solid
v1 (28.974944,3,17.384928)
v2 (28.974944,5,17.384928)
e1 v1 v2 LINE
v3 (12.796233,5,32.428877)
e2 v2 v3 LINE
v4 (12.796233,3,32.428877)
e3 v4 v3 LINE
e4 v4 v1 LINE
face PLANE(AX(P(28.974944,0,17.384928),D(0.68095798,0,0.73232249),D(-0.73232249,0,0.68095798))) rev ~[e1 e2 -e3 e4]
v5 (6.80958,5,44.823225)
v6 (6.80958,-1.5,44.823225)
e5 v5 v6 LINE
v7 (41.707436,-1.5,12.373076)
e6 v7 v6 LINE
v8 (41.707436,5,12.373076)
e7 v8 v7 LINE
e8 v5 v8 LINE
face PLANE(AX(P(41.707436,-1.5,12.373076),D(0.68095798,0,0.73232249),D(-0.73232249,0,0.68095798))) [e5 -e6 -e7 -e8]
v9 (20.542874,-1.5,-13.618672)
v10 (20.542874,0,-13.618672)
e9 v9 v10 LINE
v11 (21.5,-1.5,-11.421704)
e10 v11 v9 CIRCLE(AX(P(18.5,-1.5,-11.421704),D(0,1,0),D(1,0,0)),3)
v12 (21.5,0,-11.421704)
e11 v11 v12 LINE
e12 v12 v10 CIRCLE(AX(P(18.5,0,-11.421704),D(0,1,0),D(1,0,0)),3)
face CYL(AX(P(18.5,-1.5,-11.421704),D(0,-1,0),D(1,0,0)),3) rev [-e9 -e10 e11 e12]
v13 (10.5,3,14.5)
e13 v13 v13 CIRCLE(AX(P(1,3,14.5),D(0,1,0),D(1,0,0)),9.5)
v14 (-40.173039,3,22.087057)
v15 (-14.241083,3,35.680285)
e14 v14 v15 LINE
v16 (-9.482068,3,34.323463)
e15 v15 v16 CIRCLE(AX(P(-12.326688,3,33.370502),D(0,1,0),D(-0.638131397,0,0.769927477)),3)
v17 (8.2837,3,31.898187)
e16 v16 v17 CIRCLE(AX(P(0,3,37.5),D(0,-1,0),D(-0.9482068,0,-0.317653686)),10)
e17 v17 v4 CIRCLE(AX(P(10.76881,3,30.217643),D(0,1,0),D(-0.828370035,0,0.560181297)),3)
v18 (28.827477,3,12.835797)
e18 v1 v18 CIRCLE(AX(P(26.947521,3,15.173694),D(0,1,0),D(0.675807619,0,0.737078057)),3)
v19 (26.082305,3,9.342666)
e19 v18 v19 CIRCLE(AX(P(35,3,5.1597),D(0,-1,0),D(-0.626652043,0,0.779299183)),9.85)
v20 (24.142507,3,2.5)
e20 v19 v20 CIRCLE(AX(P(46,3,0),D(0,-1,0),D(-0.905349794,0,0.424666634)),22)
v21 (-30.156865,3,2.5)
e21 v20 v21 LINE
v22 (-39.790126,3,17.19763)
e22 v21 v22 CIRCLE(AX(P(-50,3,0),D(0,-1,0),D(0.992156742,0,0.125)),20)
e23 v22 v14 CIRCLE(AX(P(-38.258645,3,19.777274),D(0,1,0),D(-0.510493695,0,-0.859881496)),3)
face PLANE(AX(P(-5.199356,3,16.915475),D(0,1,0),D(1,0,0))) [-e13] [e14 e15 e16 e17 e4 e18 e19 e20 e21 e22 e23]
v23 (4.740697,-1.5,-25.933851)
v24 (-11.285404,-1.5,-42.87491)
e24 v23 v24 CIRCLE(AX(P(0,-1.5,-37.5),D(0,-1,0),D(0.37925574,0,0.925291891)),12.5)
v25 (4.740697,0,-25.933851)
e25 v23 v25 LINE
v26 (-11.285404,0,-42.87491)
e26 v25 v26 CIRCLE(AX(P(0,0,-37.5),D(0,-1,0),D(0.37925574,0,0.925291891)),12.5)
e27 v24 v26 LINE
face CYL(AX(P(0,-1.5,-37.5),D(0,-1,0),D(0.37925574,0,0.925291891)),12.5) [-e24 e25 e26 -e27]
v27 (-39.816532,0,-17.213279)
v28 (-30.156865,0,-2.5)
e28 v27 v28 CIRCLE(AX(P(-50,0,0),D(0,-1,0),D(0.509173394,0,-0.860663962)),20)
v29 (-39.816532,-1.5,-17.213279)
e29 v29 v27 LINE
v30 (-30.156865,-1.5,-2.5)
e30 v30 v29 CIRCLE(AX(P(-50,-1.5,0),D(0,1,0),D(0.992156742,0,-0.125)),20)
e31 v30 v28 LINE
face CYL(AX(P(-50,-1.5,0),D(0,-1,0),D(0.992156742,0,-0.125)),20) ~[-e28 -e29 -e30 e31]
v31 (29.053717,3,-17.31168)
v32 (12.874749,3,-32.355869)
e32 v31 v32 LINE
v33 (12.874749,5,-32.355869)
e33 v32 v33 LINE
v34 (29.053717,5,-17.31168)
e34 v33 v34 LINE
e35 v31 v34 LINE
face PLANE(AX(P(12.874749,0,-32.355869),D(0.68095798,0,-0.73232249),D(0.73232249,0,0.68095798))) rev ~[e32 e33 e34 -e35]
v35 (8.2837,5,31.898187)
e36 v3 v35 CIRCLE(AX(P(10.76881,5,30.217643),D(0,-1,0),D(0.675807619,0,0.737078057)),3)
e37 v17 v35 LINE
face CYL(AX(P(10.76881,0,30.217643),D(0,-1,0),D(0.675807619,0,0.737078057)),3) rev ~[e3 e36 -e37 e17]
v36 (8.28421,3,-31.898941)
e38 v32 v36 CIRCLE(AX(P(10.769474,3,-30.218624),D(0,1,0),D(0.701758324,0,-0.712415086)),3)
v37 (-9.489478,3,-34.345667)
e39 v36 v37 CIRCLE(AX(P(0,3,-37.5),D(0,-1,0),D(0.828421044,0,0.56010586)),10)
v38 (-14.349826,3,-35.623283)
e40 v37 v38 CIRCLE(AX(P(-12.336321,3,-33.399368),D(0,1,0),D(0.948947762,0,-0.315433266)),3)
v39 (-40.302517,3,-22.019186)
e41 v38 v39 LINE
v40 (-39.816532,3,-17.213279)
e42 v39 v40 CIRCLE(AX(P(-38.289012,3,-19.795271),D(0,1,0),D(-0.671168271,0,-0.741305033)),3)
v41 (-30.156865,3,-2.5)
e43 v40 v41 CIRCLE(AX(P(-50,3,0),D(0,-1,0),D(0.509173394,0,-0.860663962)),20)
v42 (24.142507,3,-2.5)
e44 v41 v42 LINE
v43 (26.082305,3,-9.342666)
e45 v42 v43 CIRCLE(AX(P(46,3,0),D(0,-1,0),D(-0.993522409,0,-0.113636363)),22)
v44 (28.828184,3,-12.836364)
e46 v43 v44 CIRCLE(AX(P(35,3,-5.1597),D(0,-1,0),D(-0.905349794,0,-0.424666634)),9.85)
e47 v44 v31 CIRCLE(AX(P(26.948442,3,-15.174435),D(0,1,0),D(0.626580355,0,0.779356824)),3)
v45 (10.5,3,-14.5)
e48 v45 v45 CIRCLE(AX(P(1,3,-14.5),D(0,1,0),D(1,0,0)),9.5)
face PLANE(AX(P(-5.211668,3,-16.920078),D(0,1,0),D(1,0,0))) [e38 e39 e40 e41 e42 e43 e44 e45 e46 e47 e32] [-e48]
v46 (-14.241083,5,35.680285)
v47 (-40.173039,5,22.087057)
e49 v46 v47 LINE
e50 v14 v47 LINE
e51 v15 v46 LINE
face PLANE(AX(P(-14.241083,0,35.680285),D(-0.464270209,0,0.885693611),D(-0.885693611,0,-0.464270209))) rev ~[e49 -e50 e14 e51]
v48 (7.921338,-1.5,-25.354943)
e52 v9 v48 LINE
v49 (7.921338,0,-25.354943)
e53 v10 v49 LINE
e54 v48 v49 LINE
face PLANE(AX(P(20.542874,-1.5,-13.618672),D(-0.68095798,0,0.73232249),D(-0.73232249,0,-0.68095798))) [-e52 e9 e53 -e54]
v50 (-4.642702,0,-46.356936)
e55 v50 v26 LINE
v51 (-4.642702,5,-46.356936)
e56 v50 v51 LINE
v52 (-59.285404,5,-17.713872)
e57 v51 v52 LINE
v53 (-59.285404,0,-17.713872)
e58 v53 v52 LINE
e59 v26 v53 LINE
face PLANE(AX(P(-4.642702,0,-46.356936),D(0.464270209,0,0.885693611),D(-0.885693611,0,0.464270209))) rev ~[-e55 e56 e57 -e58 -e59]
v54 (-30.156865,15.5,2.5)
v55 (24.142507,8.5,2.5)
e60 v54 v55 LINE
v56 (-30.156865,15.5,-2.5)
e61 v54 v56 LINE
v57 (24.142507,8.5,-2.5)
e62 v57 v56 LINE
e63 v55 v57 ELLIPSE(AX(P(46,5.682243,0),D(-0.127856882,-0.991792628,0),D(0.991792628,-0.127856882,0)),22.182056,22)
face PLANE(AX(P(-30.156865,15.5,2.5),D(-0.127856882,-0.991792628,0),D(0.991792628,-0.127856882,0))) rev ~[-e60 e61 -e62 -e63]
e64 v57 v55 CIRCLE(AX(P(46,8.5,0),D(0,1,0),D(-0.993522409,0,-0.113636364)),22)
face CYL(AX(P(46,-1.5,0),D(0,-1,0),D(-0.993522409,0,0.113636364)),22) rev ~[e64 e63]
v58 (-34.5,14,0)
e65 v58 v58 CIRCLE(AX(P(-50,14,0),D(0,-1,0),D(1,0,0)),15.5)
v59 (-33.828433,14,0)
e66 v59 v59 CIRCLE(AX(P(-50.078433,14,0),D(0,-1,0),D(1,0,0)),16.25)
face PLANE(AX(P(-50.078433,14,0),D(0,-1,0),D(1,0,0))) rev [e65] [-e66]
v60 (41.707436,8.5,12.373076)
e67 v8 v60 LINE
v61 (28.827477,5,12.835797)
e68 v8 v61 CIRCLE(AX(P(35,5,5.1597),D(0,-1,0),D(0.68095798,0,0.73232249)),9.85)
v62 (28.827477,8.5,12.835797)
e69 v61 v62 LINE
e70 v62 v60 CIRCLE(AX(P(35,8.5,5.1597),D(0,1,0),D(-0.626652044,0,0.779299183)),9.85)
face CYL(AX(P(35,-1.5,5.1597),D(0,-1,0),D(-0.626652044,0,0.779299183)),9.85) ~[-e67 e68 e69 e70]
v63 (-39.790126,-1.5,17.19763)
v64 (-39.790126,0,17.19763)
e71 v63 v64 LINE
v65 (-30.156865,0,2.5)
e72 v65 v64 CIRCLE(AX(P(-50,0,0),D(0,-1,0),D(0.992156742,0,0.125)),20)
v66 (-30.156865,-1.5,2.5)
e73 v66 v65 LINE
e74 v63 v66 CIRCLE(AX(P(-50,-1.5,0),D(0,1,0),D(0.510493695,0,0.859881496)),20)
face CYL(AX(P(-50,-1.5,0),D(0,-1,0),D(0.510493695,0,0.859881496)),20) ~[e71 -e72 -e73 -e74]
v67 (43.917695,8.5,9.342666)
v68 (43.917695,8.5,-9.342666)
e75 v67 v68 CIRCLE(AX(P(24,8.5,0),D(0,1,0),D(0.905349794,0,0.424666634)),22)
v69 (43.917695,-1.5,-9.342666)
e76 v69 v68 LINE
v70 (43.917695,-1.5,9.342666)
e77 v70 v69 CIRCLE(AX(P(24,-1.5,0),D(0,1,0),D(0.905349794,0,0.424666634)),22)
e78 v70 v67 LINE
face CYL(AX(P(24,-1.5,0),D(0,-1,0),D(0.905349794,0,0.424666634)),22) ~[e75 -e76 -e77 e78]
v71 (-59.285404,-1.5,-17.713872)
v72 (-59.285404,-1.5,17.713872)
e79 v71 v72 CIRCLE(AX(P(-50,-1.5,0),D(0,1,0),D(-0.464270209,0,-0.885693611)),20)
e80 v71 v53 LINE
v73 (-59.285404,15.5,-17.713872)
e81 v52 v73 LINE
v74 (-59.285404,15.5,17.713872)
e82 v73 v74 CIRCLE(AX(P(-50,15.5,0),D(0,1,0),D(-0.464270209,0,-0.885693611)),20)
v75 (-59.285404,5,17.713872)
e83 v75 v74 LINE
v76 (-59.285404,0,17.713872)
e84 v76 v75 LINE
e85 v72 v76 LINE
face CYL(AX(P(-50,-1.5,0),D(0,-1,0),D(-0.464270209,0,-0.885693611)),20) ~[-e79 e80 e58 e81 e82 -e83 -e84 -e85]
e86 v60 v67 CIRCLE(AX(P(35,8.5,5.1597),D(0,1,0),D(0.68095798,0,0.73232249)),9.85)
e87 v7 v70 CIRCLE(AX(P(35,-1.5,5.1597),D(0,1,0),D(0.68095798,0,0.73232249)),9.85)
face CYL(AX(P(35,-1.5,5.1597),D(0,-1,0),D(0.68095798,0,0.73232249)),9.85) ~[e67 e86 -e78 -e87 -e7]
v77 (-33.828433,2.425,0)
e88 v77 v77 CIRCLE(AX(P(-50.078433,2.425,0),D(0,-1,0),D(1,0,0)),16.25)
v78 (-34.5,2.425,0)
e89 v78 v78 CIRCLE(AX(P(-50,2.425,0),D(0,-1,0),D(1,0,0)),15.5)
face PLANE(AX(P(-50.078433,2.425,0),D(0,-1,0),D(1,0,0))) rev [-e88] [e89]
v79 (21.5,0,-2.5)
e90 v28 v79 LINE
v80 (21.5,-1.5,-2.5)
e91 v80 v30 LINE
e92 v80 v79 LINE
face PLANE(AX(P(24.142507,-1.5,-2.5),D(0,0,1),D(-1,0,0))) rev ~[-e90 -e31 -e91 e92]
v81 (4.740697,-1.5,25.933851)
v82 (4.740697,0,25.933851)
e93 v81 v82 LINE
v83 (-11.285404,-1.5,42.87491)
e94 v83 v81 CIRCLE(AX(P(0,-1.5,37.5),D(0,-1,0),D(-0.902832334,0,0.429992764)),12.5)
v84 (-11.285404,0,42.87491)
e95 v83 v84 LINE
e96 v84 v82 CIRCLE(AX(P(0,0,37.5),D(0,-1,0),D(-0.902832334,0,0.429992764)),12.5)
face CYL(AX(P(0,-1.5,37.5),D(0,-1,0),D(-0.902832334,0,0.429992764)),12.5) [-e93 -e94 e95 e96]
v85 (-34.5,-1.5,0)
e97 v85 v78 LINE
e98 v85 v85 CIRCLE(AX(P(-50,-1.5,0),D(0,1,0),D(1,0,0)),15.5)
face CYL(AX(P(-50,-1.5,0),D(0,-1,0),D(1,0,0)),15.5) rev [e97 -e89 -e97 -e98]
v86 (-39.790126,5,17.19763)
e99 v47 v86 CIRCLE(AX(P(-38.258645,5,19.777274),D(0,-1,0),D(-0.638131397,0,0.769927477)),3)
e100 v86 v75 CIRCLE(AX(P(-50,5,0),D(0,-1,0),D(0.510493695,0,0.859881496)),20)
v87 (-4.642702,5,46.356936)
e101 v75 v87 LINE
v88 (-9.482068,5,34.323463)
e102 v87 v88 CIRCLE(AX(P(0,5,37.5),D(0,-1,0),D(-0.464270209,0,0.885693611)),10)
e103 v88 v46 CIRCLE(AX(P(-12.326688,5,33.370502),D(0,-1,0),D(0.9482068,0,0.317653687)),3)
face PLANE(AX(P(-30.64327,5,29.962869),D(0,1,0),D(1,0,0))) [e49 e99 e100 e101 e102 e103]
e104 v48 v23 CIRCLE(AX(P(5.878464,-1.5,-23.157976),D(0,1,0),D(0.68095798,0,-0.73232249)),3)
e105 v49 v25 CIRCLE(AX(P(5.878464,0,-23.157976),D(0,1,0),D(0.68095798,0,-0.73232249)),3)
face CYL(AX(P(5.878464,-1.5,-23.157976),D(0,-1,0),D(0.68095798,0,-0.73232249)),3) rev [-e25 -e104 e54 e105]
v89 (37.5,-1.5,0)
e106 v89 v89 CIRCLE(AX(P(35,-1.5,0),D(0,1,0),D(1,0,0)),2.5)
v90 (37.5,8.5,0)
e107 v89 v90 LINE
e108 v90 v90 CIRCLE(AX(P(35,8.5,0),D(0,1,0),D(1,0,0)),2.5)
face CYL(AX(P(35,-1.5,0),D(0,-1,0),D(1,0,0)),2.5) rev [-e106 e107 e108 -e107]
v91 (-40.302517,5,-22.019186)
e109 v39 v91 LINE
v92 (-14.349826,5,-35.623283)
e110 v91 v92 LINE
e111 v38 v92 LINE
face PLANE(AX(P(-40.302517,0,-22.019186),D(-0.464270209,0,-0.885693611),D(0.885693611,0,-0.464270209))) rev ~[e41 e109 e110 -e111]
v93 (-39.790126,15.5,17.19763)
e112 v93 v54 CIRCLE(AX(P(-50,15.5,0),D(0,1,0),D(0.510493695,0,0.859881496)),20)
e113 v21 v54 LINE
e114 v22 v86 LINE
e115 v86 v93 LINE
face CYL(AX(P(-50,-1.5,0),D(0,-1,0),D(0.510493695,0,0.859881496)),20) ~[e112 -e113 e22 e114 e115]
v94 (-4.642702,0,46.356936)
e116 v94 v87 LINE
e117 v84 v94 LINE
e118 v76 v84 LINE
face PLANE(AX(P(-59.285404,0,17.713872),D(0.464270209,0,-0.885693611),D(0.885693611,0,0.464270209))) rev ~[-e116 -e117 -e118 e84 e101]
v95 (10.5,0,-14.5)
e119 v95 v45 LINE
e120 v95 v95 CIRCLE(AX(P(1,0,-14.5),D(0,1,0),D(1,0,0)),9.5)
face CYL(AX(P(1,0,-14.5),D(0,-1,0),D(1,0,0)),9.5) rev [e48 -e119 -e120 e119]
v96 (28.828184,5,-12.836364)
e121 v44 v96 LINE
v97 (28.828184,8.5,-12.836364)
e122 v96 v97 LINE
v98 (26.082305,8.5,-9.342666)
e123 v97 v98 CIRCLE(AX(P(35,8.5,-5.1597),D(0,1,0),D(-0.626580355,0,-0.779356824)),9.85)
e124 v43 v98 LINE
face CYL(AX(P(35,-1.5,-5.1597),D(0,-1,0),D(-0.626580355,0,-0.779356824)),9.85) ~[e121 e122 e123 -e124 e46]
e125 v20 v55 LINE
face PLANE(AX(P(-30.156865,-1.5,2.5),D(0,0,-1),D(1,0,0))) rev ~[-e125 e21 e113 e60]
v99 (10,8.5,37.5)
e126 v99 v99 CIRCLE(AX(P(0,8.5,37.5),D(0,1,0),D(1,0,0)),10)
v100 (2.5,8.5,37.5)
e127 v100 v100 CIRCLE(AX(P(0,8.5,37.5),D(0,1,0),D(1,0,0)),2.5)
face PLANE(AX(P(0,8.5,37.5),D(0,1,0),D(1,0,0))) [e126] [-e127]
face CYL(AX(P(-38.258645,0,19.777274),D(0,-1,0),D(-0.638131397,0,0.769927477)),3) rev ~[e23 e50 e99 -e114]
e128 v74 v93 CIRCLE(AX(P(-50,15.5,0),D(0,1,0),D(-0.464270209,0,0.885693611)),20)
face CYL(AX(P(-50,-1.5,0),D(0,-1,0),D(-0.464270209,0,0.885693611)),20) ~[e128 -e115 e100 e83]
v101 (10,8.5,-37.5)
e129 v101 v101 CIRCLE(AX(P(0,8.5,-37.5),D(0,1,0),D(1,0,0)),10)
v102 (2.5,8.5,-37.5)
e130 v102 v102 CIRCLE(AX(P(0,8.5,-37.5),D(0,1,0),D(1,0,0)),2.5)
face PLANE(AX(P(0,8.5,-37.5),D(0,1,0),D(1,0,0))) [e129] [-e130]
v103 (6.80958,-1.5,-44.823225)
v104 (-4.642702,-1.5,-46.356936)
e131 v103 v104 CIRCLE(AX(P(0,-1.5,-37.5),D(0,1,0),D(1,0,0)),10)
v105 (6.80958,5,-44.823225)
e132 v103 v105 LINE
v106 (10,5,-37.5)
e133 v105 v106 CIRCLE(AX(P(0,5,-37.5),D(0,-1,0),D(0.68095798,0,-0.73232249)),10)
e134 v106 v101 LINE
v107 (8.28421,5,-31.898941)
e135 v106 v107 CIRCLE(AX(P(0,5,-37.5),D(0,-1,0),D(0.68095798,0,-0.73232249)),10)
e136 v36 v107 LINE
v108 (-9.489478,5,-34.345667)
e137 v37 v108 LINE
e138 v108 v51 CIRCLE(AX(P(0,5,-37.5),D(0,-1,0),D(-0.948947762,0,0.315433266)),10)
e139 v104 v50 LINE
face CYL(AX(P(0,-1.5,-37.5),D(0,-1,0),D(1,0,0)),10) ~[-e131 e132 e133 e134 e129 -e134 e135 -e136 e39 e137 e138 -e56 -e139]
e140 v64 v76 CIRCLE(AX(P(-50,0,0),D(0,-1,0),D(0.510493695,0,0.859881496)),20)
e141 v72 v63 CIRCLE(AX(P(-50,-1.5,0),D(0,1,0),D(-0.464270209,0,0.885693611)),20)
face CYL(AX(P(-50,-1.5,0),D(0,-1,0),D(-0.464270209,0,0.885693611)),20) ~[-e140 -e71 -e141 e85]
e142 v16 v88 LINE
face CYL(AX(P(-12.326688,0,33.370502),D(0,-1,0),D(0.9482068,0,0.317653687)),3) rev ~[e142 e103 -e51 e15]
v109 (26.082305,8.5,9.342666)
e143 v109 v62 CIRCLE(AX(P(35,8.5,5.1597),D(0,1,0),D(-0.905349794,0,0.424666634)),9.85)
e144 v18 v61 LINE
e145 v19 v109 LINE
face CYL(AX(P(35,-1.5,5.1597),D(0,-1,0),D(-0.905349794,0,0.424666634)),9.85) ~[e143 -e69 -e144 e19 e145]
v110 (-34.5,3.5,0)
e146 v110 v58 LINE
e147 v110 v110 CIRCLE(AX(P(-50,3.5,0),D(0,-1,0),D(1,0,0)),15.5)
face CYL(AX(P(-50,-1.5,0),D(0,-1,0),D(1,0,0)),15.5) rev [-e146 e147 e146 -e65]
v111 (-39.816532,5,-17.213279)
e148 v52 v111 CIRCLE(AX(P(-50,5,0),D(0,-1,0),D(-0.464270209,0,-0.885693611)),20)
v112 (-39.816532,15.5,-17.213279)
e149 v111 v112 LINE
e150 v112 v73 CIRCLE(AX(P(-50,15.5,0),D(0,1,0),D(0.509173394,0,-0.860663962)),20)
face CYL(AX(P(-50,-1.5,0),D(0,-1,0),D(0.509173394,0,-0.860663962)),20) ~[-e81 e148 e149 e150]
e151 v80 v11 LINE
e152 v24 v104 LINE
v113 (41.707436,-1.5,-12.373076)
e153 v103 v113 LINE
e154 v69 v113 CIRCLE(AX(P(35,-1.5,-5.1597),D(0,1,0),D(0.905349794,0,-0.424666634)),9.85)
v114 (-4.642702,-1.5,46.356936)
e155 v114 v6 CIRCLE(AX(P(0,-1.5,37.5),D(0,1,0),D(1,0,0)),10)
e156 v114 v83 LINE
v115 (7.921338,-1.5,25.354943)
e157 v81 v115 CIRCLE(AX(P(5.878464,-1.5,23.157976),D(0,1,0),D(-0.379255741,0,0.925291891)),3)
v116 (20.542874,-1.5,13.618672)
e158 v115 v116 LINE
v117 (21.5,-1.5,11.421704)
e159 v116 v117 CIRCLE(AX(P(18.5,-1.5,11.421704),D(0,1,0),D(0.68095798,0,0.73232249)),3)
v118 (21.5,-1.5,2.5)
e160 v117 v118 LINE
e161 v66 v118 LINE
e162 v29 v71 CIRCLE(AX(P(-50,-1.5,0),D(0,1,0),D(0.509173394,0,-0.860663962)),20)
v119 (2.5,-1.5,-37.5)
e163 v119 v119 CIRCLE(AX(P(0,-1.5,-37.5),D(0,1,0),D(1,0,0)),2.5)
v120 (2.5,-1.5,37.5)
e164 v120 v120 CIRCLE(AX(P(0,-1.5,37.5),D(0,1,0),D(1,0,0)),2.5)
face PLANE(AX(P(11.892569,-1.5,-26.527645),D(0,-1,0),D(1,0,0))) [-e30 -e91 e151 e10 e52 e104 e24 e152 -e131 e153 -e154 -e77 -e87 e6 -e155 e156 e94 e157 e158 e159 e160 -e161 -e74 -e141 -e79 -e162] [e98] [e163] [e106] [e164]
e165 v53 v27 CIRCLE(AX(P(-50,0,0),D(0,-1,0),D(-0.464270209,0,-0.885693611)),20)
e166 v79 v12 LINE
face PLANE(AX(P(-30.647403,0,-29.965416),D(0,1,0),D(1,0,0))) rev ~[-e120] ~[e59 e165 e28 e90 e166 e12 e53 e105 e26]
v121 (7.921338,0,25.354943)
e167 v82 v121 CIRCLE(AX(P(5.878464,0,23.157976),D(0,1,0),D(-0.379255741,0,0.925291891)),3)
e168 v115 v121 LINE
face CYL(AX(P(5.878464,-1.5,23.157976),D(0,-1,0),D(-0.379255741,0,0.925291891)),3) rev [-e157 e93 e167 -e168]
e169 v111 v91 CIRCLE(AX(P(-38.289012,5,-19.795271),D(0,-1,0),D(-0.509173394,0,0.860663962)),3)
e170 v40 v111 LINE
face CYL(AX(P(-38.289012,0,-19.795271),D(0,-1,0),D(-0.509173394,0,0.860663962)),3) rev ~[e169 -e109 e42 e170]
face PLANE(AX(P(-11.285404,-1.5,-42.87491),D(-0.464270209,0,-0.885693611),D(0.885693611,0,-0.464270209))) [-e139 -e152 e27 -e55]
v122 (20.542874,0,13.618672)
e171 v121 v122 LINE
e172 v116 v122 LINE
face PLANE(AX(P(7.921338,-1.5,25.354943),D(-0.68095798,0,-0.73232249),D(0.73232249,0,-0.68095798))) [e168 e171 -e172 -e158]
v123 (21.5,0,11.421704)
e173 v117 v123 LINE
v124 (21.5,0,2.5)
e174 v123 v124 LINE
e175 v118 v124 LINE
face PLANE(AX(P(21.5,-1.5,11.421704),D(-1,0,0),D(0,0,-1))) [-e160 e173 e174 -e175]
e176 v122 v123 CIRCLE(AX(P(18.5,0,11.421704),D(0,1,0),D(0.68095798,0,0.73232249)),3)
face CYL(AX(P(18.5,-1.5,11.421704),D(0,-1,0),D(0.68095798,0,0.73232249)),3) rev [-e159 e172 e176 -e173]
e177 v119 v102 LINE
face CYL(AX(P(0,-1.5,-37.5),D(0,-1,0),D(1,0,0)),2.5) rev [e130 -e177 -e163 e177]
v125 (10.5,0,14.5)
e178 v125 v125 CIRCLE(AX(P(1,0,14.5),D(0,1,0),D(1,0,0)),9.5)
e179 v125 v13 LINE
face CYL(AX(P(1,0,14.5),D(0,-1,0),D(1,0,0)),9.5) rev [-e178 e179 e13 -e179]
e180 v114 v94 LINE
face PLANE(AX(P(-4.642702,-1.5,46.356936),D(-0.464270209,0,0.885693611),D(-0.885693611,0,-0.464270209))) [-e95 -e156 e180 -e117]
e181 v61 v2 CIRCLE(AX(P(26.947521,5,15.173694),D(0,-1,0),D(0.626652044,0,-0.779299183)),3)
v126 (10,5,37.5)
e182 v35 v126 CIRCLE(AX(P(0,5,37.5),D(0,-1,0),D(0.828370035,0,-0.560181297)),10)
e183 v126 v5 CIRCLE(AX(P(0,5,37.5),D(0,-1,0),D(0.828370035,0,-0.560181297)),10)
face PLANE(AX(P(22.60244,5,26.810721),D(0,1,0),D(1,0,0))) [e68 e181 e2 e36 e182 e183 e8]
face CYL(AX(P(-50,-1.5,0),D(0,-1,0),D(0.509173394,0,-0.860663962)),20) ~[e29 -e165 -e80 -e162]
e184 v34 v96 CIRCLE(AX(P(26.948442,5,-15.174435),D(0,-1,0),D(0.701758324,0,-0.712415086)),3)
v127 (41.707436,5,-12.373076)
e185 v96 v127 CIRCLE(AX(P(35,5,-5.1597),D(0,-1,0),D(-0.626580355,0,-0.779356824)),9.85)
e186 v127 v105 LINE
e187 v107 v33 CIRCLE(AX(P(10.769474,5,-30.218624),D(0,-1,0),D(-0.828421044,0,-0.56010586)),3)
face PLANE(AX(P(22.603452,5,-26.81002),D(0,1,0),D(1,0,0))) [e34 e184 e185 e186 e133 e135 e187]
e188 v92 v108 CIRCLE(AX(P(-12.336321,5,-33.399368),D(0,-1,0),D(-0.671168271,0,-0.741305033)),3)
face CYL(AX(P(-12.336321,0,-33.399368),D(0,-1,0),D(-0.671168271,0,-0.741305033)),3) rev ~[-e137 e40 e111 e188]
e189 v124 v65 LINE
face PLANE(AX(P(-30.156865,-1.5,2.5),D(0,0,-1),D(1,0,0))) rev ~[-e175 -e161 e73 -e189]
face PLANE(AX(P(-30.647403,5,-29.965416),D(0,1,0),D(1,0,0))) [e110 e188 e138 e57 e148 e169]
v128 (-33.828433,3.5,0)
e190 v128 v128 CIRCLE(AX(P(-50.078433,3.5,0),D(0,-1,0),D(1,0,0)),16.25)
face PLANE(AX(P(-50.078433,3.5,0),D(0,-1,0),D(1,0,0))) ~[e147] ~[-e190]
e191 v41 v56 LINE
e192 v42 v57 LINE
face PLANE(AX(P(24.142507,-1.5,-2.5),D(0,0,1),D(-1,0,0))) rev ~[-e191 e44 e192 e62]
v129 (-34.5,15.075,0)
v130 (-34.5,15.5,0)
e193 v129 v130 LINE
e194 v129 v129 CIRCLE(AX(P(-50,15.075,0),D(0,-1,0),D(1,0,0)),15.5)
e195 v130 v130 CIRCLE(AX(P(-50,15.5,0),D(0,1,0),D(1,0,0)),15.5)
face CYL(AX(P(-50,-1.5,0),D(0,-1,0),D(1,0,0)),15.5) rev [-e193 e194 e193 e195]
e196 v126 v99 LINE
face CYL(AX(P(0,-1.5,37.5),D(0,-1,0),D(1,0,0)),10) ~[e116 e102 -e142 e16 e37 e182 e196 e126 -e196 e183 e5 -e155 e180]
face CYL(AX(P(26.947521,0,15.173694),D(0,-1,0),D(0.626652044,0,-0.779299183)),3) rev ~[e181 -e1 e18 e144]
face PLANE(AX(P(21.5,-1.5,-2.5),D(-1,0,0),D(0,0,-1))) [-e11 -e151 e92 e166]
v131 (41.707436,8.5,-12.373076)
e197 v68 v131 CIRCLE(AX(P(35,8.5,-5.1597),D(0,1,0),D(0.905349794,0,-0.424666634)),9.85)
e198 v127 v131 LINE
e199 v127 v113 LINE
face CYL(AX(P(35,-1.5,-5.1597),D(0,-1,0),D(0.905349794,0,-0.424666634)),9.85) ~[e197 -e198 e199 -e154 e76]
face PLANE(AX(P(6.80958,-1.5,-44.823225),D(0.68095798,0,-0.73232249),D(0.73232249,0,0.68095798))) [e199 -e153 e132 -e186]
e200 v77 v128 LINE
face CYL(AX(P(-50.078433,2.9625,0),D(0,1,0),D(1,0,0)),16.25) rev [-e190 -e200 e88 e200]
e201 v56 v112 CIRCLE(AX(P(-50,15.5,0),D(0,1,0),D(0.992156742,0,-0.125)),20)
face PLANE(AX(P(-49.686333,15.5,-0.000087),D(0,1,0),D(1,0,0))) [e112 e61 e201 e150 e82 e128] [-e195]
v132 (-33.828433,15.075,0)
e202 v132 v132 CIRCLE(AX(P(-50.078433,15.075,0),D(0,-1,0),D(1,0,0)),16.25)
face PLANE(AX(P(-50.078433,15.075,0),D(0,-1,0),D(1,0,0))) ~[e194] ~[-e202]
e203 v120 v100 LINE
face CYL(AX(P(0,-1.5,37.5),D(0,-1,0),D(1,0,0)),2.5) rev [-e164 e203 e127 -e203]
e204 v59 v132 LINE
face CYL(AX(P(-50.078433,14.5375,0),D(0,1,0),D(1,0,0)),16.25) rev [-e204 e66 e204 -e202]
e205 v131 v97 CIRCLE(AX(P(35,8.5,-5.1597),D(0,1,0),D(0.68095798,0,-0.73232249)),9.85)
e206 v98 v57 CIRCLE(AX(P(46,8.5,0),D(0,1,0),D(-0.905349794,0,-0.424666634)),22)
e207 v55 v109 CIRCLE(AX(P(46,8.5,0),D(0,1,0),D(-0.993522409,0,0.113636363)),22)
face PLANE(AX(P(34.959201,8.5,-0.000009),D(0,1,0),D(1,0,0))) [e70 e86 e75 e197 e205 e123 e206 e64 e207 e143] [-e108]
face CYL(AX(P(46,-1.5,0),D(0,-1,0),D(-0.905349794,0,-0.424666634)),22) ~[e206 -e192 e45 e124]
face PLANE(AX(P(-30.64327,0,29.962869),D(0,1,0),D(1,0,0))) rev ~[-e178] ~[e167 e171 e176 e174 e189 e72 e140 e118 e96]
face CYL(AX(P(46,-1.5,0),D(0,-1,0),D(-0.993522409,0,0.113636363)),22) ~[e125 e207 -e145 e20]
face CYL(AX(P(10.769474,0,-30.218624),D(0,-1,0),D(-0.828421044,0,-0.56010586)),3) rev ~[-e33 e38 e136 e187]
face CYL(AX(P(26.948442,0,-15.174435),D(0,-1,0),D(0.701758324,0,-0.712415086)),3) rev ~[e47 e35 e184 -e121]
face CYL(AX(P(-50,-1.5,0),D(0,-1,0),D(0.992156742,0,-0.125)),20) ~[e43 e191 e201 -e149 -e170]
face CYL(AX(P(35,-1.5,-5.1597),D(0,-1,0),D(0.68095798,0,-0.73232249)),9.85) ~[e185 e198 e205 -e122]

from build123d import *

# Parameters (mm, degrees)
SKETCH1_R                = 9.5
BOSS_EXTRUDE1_DEPTH      = 3
BOSS_EXTRUDE1_2_DEPTH    = 3
BOSS_EXTRUDE2_DEPTH      = 5
BOSS_EXTRUDE3_DEPTH      = 15.5
BOSS_EXTRUDE3_DEPTH_BACK = 1.5
BOSS_EXTRUDE4_DEPTH      = 8.5
BOSS_EXTRUDE4_DEPTH_BACK = 1.5
SKETCH1_5_R              = 10
SKETCH1_5_R_2            = 2.5
BOSS_EXTRUDE5_DEPTH      = 8.5
BOSS_EXTRUDE5_DEPTH_BACK = 1.5
SKETCH1_6_R              = 2.5
BOSS_EXTRUDE6_DEPTH      = 15.5
BOSS_EXTRUDE6_DEPTH_BACK = 1.5
SKETCH1_7_R              = 15.5
CUT_EXTRUDE1_REACH       = 89.409
SKETCH8_W                = 16.25
SKETCH8_H                = 1.075
BOSS_EXTRUDE7_START      = 1.5
BOSS_EXTRUDE7_DEPTH      = 1.5


with BuildPart() as part:
    # Sketch1 → Boss-Extrude1 (new body)
    with BuildSketch(Plane(origin=(0, 0, 0), x_dir=(1, 0, 0), z_dir=(0, 1, 0))):
        with BuildLine():
            ThreePointArc((8.284210438, 31.898941402), (-1.363739049, 27.593425627), (-9.489477618, 34.345667337))
            ThreePointArc((-9.489477618, 34.345667337), (-11.573635866, 36.300800208), (-14.349825716, 35.623282637))
            Line((-14.349825716, 35.623282637), (-40.302516761, 22.019186222))
            ThreePointArc((-40.302516761, 22.019186222), (-41.273789994, 19.493443338), (-39.816532128, 17.213279237))
            ThreePointArc((-39.816532128, 17.213279237), (-33.281167386, 10.97636716), (-30.156865167, 2.5))
            Line((-30.156865167, 2.5), (24.142507006, 2.5))
            ThreePointArc((24.142507006, 2.5), (24.834057729, 6.000240645), (26.082304527, 9.342665949))
            ThreePointArc((26.082304527, 9.342665949), (27.255658523, 11.24637974), (28.828183508, 12.836364321))
            ThreePointArc((28.828183508, 12.836364321), (29.944640188, 15.02344116), (29.053717415, 17.311680053))
            Line((29.053717415, 17.311680053), (12.87474854, 32.355869082))
            ThreePointArc((12.87474854, 32.355869082), (10.472331387, 33.203871974), (8.284210438, 31.898941402))
        make_face()
        with Locations((1, 14.5)):
            Circle(SKETCH1_R, mode=Mode.SUBTRACT)
    extrude(amount=BOSS_EXTRUDE1_DEPTH)



with BuildPart() as body_2:
    # Sketch1 → Boss-Extrude1 2 (new body)
    with BuildSketch(Plane(origin=(0, 0, 0), x_dir=(1, 0, 0), z_dir=(0, 1, 0))):
        with BuildLine():
            ThreePointArc((-30.156865167, -2.5), (-33.272749334, -10.963534337), (-39.790126097, -17.197629921))
            ThreePointArc((-39.790126097, -17.197629921), (-41.249487369, -19.543048034), (-40.173039204, -22.087056839))
            Line((-40.173039204, -22.087056839), (-14.241082593, -35.680284508))
            ThreePointArc((-14.241082593, -35.680284508), (-11.504148883, -36.255537388), (-9.482068, -34.323463137))
            ThreePointArc((-9.482068, -34.323463137), (-1.352594655, -27.591897876), (8.28370035, -31.898187034))
            ThreePointArc((8.28370035, -31.898187034), (10.418414325, -33.197109967), (12.796233312, -32.428877315))
            Line((12.796233312, -32.428877315), (28.974944097, -17.384928273))
            ThreePointArc((28.974944097, -17.384928273), (29.945946241, -15.076495792), (28.827477371, -12.835796554))
            ThreePointArc((28.827477371, -12.835796554), (27.255378579, -11.246023539), (26.082304527, -9.342665949))
            ThreePointArc((26.082304527, -9.342665949), (24.834057729, -6.000240645), (24.142507006, -2.5))
            Line((24.142507006, -2.5), (-30.156865167, -2.5))
        make_face()
        with Locations((1, -14.5)):
            Circle(SKETCH1_R, mode=Mode.SUBTRACT)
    extrude(amount=BOSS_EXTRUDE1_2_DEPTH)


with BuildPart() as part_1:
    add(part.part)

    add(body_2.part)  # Boss-Extrude2 merges body 2
    # Sketch1<3> → Boss-Extrude2 (add)
    with BuildSketch(Plane(origin=(0, 0, 0), x_dir=(1, 0, 0), z_dir=(0, 1, 0))):
        with BuildLine():
            ThreePointArc((-9.489477618, 34.345667337), (-9.273471314, 41.242022153), (-4.642702086, 46.356936115))
            Line((-4.642702086, 46.356936115), (-59.285404172, 17.713872229))
            ThreePointArc((-59.285404172, 17.713872229), (-49.4859203, 19.99339196), (-39.816532128, 17.213279237))
            ThreePointArc((-39.816532128, 17.213279237), (-41.273789994, 19.493443338), (-40.302516761, 22.019186222))
            Line((-40.302516761, 22.019186222), (-14.349825716, 35.623282637))
            ThreePointArc((-14.349825716, 35.623282637), (-11.573635866, 36.300800208), (-9.489477618, 34.345667337))
        make_face()
        with BuildLine():
            Line((41.707436105, 12.373076129), (6.809579802, 44.823224898))
            ThreePointArc((6.809579802, 44.823224898), (9.935537325, 38.633621661), (8.284210438, 31.898941402))
            ThreePointArc((8.284210438, 31.898941402), (10.472331387, 33.203871974), (12.87474854, 32.355869082))
            Line((12.87474854, 32.355869082), (29.053717415, 17.311680053))
            ThreePointArc((29.053717415, 17.311680053), (29.944640188, 15.02344116), (28.828183508, 12.836364321))
            ThreePointArc((28.828183508, 12.836364321), (35.354091909, 15.003333024), (41.707436105, 12.373076129))
        make_face()
        with BuildLine():
            ThreePointArc((-39.790126097, -17.197629921), (-49.47057805, -19.992991582), (-59.285404172, -17.713872229))
            Line((-59.285404172, -17.713872229), (-4.642702086, -46.356936115))
            ThreePointArc((-4.642702086, -46.356936115), (-9.277844603, -41.231165974), (-9.482068, -34.323463137))
            ThreePointArc((-9.482068, -34.323463137), (-11.504148883, -36.255537388), (-14.241082593, -35.680284508))
            Line((-14.241082593, -35.680284508), (-40.173039204, -22.087056839))
            ThreePointArc((-40.173039204, -22.087056839), (-41.249487369, -19.543048034), (-39.790126097, -17.197629921))
        make_face()
        with BuildLine():
            ThreePointArc((8.28370035, -31.898187034), (9.93558893, -38.633169276), (6.809579802, -44.823224898))
            Line((6.809579802, -44.823224898), (41.707436105, -12.373076129))
            ThreePointArc((41.707436105, -12.373076129), (35.353639159, -15.0033493), (28.827477371, -12.835796554))
            ThreePointArc((28.827477371, -12.835796554), (29.945946241, -15.076495792), (28.974944097, -17.384928273))
            Line((28.974944097, -17.384928273), (12.796233312, -32.428877315))
            ThreePointArc((12.796233312, -32.428877315), (10.418414325, -33.197109967), (8.28370035, -31.898187034))
        make_face()
    extrude(amount=BOSS_EXTRUDE2_DEPTH)

    # Sketch1<4> → Boss-Extrude3 (add, two sides: drawn at the far end of the back side and taken through both)
    with BuildSketch(Plane(origin=(0, 0, 0), x_dir=(1, 0, 0), z_dir=(0, 1, 0)).offset(-BOSS_EXTRUDE3_DEPTH_BACK)):
        with BuildLine():
            Line((24.142507006, 2.5), (-30.156865167, 2.5))
            ThreePointArc((-30.156865167, 2.5), (-30.039254815, 1.252458251), (-30, 0))
            ThreePointArc((-30, 0), (-30.039254815, -1.252458251), (-30.156865167, -2.5))
            Line((-30.156865167, -2.5), (24.142507006, -2.5))
            ThreePointArc((24.142507006, -2.5), (24, 0), (24.142507006, 2.5))
        make_face()
    extrude(amount=BOSS_EXTRUDE3_DEPTH + BOSS_EXTRUDE3_DEPTH_BACK)

    # Sketch1<5> → Boss-Extrude4 (add, two sides: drawn at the far end of the back side and taken through both)
    # profile 1 of 2: a face of its own
    with BuildSketch(Plane(origin=(0, 0, 0), x_dir=(1, 0, 0), z_dir=(0, 1, 0)).offset(-BOSS_EXTRUDE4_DEPTH_BACK)):
        with Locations((0, 37.5)):
            Circle(SKETCH1_5_R)
        with Locations((0, 37.5)):
            Circle(SKETCH1_5_R_2, mode=Mode.SUBTRACT)
    # profile 2 of 2: a face of its own
    with BuildSketch(Plane(origin=(0, 0, 0), x_dir=(1, 0, 0), z_dir=(0, 1, 0)).offset(-BOSS_EXTRUDE4_DEPTH_BACK)):
        with Locations((0, -37.5)):
            Circle(SKETCH1_5_R)
        with Locations((0, -37.5)):
            Circle(SKETCH1_5_R_2, mode=Mode.SUBTRACT)
    extrude(amount=BOSS_EXTRUDE4_DEPTH + BOSS_EXTRUDE4_DEPTH_BACK)

    # Sketch1<6> → Boss-Extrude5 (add, two sides: drawn at the far end of the back side and taken through both)
    with BuildSketch(Plane(origin=(0, 0, 0), x_dir=(1, 0, 0), z_dir=(0, 1, 0)).offset(-BOSS_EXTRUDE5_DEPTH_BACK)):
        with BuildLine():
            ThreePointArc((43.917695473, 9.342665949), (42.958142414, 10.964048777), (41.707436105, 12.373076129))
            ThreePointArc((41.707436105, 12.373076129), (35.354091909, 15.003333024), (28.828183508, 12.836364321))
            ThreePointArc((28.828183508, 12.836364321), (27.255658523, 11.24637974), (26.082304527, 9.342665949))
            ThreePointArc((26.082304527, 9.342665949), (24.834057729, 6.000240645), (24.142507006, 2.5))
            ThreePointArc((24.142507006, 2.5), (24, 0), (24.142507006, -2.5))
            ThreePointArc((24.142507006, -2.5), (24.834057729, -6.000240645), (26.082304527, -9.342665949))
            ThreePointArc((26.082304527, -9.342665949), (27.255378579, -11.246023539), (28.827477371, -12.835796554))
            ThreePointArc((28.827477371, -12.835796554), (35.353639159, -15.0033493), (41.707436105, -12.373076129))
            ThreePointArc((41.707436105, -12.373076129), (42.958142414, -10.964048777), (43.917695473, -9.342665949))
            ThreePointArc((43.917695473, -9.342665949), (46, 0), (43.917695473, 9.342665949))
        make_face()
        with Locations((35, 0)):
            Circle(SKETCH1_6_R, mode=Mode.SUBTRACT)
    extrude(amount=BOSS_EXTRUDE5_DEPTH + BOSS_EXTRUDE5_DEPTH_BACK)

    # Sketch1<7> → Boss-Extrude6 (add, two sides: drawn at the far end of the back side and taken through both)
    with BuildSketch(Plane(origin=(0, 0, 0), x_dir=(1, 0, 0), z_dir=(0, 1, 0)).offset(-BOSS_EXTRUDE6_DEPTH_BACK)):
        with BuildLine():
            ThreePointArc((-39.816532128, 17.213279237), (-49.4859203, 19.99339196), (-59.285404172, 17.713872229))
            ThreePointArc((-59.285404172, 17.713872229), (-70, 0), (-59.285404172, -17.713872229))
            ThreePointArc((-59.285404172, -17.713872229), (-49.47057805, -19.992991582), (-39.790126097, -17.197629921))
            ThreePointArc((-39.790126097, -17.197629921), (-33.272749334, -10.963534337), (-30.156865167, -2.5))
            ThreePointArc((-30.156865167, -2.5), (-30.039254815, -1.252458251), (-30, 0))
            ThreePointArc((-30, 0), (-30.039254815, 1.252458251), (-30.156865167, 2.5))
            ThreePointArc((-30.156865167, 2.5), (-33.281167386, 10.97636716), (-39.816532128, 17.213279237))
        make_face()
        with Locations((-50, 0)):
            Circle(SKETCH1_7_R, mode=Mode.SUBTRACT)
    extrude(amount=BOSS_EXTRUDE6_DEPTH + BOSS_EXTRUDE6_DEPTH_BACK)

    # Sketch3 → Cut-Extrude1 (cut, up to next)
    with BuildSketch(Plane.XY.offset(2.5), mode=Mode.PRIVATE) as cut_extrude1_sk1:
        Polygon((-30.156865167, 15.5), (24.142507006, 8.5), (24.142507006, 15.5), align=None)
    cut_extrude1_tool1 = extrude(cut_extrude1_sk1.sketch, amount=-CUT_EXTRUDE1_REACH, mode=Mode.PRIVATE) & part_1.part
    add(cut_extrude1_tool1.solids().sort_by_distance((6.042716, 13.166667, 2.5))[0], mode=Mode.SUBTRACT)

    # Sketch8 → Cut-Revolve2 (revolve, cut)
    with BuildSketch(Plane.XY):
        with Locations((-41.953432584, 14.5375)):
            Rectangle(SKETCH8_W, SKETCH8_H)
        with Locations((-41.953432584, 2.9625)):
            Rectangle(SKETCH8_W, SKETCH8_H)
    revolve(axis=Axis((-50.078432584, 15.075, 0), (0, -1, 0)), mode=Mode.SUBTRACT)

    # Sketch11 → Boss-Extrude7 (add)
    with BuildSketch(Plane.XZ.offset(BOSS_EXTRUDE7_START)):
        with BuildLine():
            Line((6.809579802, -44.823224898), (41.707436105, -12.373076129))
            ThreePointArc((41.707436105, -12.373076129), (33.124591223, -14.829515627), (26.082304527, -9.342665949))
            ThreePointArc((26.082304527, -9.342665949), (24.834057729, -6.000240645), (24.142507006, -2.5))
            Line((24.142507006, -2.5), (21.5, -2.5))
            Line((21.5, -2.5), (21.5, -11.421704032))
            ThreePointArc((21.5, -11.421704032), (21.250329237, -12.619906472), (20.542873941, -13.618671501))
            Line((20.542873941, -13.618671501), (7.921337912, -25.354943159))
            ThreePointArc((7.921337912, -25.354943159), (6.415668049, -26.109485774), (4.740696751, -25.933851362))
            ThreePointArc((4.740696751, -25.933851362), (-9.080647661, -28.909782421), (-11.285404172, -42.87490955))
            Line((-11.285404172, -42.87490955), (-4.642702086, -46.356936115))
            ThreePointArc((-4.642702086, -46.356936115), (-1.327368556, -27.58848686), (6.809579802, -44.823224898))
        make_face()
        with BuildLine():
            Line((41.707436105, 12.373076129), (6.809579802, 44.823224898))
            ThreePointArc((6.809579802, 44.823224898), (-1.327368556, 27.58848686), (-4.642702086, 46.356936115))
            Line((-4.642702086, 46.356936115), (-11.285404172, 42.87490955))
            ThreePointArc((-11.285404172, 42.87490955), (-9.080647661, 28.909782421), (4.740696751, 25.933851362))
            ThreePointArc((4.740696751, 25.933851362), (6.415668049, 26.109485774), (7.921337912, 25.354943159))
            Line((7.921337912, 25.354943159), (20.542873941, 13.618671501))
            ThreePointArc((20.542873941, 13.618671501), (21.250329237, 12.619906472), (21.5, 11.421704032))
            Line((21.5, 11.421704032), (21.5, 2.5))
            Line((21.5, 2.5), (24.142507006, 2.5))
            ThreePointArc((24.142507006, 2.5), (24.834057729, 6.000240645), (26.082304527, 9.342665949))
            ThreePointArc((26.082304527, 9.342665949), (33.124591223, 14.829515627), (41.707436105, 12.373076129))
        make_face()
    extrude(amount=-BOSS_EXTRUDE7_DEPTH)


solid = part_1.part
